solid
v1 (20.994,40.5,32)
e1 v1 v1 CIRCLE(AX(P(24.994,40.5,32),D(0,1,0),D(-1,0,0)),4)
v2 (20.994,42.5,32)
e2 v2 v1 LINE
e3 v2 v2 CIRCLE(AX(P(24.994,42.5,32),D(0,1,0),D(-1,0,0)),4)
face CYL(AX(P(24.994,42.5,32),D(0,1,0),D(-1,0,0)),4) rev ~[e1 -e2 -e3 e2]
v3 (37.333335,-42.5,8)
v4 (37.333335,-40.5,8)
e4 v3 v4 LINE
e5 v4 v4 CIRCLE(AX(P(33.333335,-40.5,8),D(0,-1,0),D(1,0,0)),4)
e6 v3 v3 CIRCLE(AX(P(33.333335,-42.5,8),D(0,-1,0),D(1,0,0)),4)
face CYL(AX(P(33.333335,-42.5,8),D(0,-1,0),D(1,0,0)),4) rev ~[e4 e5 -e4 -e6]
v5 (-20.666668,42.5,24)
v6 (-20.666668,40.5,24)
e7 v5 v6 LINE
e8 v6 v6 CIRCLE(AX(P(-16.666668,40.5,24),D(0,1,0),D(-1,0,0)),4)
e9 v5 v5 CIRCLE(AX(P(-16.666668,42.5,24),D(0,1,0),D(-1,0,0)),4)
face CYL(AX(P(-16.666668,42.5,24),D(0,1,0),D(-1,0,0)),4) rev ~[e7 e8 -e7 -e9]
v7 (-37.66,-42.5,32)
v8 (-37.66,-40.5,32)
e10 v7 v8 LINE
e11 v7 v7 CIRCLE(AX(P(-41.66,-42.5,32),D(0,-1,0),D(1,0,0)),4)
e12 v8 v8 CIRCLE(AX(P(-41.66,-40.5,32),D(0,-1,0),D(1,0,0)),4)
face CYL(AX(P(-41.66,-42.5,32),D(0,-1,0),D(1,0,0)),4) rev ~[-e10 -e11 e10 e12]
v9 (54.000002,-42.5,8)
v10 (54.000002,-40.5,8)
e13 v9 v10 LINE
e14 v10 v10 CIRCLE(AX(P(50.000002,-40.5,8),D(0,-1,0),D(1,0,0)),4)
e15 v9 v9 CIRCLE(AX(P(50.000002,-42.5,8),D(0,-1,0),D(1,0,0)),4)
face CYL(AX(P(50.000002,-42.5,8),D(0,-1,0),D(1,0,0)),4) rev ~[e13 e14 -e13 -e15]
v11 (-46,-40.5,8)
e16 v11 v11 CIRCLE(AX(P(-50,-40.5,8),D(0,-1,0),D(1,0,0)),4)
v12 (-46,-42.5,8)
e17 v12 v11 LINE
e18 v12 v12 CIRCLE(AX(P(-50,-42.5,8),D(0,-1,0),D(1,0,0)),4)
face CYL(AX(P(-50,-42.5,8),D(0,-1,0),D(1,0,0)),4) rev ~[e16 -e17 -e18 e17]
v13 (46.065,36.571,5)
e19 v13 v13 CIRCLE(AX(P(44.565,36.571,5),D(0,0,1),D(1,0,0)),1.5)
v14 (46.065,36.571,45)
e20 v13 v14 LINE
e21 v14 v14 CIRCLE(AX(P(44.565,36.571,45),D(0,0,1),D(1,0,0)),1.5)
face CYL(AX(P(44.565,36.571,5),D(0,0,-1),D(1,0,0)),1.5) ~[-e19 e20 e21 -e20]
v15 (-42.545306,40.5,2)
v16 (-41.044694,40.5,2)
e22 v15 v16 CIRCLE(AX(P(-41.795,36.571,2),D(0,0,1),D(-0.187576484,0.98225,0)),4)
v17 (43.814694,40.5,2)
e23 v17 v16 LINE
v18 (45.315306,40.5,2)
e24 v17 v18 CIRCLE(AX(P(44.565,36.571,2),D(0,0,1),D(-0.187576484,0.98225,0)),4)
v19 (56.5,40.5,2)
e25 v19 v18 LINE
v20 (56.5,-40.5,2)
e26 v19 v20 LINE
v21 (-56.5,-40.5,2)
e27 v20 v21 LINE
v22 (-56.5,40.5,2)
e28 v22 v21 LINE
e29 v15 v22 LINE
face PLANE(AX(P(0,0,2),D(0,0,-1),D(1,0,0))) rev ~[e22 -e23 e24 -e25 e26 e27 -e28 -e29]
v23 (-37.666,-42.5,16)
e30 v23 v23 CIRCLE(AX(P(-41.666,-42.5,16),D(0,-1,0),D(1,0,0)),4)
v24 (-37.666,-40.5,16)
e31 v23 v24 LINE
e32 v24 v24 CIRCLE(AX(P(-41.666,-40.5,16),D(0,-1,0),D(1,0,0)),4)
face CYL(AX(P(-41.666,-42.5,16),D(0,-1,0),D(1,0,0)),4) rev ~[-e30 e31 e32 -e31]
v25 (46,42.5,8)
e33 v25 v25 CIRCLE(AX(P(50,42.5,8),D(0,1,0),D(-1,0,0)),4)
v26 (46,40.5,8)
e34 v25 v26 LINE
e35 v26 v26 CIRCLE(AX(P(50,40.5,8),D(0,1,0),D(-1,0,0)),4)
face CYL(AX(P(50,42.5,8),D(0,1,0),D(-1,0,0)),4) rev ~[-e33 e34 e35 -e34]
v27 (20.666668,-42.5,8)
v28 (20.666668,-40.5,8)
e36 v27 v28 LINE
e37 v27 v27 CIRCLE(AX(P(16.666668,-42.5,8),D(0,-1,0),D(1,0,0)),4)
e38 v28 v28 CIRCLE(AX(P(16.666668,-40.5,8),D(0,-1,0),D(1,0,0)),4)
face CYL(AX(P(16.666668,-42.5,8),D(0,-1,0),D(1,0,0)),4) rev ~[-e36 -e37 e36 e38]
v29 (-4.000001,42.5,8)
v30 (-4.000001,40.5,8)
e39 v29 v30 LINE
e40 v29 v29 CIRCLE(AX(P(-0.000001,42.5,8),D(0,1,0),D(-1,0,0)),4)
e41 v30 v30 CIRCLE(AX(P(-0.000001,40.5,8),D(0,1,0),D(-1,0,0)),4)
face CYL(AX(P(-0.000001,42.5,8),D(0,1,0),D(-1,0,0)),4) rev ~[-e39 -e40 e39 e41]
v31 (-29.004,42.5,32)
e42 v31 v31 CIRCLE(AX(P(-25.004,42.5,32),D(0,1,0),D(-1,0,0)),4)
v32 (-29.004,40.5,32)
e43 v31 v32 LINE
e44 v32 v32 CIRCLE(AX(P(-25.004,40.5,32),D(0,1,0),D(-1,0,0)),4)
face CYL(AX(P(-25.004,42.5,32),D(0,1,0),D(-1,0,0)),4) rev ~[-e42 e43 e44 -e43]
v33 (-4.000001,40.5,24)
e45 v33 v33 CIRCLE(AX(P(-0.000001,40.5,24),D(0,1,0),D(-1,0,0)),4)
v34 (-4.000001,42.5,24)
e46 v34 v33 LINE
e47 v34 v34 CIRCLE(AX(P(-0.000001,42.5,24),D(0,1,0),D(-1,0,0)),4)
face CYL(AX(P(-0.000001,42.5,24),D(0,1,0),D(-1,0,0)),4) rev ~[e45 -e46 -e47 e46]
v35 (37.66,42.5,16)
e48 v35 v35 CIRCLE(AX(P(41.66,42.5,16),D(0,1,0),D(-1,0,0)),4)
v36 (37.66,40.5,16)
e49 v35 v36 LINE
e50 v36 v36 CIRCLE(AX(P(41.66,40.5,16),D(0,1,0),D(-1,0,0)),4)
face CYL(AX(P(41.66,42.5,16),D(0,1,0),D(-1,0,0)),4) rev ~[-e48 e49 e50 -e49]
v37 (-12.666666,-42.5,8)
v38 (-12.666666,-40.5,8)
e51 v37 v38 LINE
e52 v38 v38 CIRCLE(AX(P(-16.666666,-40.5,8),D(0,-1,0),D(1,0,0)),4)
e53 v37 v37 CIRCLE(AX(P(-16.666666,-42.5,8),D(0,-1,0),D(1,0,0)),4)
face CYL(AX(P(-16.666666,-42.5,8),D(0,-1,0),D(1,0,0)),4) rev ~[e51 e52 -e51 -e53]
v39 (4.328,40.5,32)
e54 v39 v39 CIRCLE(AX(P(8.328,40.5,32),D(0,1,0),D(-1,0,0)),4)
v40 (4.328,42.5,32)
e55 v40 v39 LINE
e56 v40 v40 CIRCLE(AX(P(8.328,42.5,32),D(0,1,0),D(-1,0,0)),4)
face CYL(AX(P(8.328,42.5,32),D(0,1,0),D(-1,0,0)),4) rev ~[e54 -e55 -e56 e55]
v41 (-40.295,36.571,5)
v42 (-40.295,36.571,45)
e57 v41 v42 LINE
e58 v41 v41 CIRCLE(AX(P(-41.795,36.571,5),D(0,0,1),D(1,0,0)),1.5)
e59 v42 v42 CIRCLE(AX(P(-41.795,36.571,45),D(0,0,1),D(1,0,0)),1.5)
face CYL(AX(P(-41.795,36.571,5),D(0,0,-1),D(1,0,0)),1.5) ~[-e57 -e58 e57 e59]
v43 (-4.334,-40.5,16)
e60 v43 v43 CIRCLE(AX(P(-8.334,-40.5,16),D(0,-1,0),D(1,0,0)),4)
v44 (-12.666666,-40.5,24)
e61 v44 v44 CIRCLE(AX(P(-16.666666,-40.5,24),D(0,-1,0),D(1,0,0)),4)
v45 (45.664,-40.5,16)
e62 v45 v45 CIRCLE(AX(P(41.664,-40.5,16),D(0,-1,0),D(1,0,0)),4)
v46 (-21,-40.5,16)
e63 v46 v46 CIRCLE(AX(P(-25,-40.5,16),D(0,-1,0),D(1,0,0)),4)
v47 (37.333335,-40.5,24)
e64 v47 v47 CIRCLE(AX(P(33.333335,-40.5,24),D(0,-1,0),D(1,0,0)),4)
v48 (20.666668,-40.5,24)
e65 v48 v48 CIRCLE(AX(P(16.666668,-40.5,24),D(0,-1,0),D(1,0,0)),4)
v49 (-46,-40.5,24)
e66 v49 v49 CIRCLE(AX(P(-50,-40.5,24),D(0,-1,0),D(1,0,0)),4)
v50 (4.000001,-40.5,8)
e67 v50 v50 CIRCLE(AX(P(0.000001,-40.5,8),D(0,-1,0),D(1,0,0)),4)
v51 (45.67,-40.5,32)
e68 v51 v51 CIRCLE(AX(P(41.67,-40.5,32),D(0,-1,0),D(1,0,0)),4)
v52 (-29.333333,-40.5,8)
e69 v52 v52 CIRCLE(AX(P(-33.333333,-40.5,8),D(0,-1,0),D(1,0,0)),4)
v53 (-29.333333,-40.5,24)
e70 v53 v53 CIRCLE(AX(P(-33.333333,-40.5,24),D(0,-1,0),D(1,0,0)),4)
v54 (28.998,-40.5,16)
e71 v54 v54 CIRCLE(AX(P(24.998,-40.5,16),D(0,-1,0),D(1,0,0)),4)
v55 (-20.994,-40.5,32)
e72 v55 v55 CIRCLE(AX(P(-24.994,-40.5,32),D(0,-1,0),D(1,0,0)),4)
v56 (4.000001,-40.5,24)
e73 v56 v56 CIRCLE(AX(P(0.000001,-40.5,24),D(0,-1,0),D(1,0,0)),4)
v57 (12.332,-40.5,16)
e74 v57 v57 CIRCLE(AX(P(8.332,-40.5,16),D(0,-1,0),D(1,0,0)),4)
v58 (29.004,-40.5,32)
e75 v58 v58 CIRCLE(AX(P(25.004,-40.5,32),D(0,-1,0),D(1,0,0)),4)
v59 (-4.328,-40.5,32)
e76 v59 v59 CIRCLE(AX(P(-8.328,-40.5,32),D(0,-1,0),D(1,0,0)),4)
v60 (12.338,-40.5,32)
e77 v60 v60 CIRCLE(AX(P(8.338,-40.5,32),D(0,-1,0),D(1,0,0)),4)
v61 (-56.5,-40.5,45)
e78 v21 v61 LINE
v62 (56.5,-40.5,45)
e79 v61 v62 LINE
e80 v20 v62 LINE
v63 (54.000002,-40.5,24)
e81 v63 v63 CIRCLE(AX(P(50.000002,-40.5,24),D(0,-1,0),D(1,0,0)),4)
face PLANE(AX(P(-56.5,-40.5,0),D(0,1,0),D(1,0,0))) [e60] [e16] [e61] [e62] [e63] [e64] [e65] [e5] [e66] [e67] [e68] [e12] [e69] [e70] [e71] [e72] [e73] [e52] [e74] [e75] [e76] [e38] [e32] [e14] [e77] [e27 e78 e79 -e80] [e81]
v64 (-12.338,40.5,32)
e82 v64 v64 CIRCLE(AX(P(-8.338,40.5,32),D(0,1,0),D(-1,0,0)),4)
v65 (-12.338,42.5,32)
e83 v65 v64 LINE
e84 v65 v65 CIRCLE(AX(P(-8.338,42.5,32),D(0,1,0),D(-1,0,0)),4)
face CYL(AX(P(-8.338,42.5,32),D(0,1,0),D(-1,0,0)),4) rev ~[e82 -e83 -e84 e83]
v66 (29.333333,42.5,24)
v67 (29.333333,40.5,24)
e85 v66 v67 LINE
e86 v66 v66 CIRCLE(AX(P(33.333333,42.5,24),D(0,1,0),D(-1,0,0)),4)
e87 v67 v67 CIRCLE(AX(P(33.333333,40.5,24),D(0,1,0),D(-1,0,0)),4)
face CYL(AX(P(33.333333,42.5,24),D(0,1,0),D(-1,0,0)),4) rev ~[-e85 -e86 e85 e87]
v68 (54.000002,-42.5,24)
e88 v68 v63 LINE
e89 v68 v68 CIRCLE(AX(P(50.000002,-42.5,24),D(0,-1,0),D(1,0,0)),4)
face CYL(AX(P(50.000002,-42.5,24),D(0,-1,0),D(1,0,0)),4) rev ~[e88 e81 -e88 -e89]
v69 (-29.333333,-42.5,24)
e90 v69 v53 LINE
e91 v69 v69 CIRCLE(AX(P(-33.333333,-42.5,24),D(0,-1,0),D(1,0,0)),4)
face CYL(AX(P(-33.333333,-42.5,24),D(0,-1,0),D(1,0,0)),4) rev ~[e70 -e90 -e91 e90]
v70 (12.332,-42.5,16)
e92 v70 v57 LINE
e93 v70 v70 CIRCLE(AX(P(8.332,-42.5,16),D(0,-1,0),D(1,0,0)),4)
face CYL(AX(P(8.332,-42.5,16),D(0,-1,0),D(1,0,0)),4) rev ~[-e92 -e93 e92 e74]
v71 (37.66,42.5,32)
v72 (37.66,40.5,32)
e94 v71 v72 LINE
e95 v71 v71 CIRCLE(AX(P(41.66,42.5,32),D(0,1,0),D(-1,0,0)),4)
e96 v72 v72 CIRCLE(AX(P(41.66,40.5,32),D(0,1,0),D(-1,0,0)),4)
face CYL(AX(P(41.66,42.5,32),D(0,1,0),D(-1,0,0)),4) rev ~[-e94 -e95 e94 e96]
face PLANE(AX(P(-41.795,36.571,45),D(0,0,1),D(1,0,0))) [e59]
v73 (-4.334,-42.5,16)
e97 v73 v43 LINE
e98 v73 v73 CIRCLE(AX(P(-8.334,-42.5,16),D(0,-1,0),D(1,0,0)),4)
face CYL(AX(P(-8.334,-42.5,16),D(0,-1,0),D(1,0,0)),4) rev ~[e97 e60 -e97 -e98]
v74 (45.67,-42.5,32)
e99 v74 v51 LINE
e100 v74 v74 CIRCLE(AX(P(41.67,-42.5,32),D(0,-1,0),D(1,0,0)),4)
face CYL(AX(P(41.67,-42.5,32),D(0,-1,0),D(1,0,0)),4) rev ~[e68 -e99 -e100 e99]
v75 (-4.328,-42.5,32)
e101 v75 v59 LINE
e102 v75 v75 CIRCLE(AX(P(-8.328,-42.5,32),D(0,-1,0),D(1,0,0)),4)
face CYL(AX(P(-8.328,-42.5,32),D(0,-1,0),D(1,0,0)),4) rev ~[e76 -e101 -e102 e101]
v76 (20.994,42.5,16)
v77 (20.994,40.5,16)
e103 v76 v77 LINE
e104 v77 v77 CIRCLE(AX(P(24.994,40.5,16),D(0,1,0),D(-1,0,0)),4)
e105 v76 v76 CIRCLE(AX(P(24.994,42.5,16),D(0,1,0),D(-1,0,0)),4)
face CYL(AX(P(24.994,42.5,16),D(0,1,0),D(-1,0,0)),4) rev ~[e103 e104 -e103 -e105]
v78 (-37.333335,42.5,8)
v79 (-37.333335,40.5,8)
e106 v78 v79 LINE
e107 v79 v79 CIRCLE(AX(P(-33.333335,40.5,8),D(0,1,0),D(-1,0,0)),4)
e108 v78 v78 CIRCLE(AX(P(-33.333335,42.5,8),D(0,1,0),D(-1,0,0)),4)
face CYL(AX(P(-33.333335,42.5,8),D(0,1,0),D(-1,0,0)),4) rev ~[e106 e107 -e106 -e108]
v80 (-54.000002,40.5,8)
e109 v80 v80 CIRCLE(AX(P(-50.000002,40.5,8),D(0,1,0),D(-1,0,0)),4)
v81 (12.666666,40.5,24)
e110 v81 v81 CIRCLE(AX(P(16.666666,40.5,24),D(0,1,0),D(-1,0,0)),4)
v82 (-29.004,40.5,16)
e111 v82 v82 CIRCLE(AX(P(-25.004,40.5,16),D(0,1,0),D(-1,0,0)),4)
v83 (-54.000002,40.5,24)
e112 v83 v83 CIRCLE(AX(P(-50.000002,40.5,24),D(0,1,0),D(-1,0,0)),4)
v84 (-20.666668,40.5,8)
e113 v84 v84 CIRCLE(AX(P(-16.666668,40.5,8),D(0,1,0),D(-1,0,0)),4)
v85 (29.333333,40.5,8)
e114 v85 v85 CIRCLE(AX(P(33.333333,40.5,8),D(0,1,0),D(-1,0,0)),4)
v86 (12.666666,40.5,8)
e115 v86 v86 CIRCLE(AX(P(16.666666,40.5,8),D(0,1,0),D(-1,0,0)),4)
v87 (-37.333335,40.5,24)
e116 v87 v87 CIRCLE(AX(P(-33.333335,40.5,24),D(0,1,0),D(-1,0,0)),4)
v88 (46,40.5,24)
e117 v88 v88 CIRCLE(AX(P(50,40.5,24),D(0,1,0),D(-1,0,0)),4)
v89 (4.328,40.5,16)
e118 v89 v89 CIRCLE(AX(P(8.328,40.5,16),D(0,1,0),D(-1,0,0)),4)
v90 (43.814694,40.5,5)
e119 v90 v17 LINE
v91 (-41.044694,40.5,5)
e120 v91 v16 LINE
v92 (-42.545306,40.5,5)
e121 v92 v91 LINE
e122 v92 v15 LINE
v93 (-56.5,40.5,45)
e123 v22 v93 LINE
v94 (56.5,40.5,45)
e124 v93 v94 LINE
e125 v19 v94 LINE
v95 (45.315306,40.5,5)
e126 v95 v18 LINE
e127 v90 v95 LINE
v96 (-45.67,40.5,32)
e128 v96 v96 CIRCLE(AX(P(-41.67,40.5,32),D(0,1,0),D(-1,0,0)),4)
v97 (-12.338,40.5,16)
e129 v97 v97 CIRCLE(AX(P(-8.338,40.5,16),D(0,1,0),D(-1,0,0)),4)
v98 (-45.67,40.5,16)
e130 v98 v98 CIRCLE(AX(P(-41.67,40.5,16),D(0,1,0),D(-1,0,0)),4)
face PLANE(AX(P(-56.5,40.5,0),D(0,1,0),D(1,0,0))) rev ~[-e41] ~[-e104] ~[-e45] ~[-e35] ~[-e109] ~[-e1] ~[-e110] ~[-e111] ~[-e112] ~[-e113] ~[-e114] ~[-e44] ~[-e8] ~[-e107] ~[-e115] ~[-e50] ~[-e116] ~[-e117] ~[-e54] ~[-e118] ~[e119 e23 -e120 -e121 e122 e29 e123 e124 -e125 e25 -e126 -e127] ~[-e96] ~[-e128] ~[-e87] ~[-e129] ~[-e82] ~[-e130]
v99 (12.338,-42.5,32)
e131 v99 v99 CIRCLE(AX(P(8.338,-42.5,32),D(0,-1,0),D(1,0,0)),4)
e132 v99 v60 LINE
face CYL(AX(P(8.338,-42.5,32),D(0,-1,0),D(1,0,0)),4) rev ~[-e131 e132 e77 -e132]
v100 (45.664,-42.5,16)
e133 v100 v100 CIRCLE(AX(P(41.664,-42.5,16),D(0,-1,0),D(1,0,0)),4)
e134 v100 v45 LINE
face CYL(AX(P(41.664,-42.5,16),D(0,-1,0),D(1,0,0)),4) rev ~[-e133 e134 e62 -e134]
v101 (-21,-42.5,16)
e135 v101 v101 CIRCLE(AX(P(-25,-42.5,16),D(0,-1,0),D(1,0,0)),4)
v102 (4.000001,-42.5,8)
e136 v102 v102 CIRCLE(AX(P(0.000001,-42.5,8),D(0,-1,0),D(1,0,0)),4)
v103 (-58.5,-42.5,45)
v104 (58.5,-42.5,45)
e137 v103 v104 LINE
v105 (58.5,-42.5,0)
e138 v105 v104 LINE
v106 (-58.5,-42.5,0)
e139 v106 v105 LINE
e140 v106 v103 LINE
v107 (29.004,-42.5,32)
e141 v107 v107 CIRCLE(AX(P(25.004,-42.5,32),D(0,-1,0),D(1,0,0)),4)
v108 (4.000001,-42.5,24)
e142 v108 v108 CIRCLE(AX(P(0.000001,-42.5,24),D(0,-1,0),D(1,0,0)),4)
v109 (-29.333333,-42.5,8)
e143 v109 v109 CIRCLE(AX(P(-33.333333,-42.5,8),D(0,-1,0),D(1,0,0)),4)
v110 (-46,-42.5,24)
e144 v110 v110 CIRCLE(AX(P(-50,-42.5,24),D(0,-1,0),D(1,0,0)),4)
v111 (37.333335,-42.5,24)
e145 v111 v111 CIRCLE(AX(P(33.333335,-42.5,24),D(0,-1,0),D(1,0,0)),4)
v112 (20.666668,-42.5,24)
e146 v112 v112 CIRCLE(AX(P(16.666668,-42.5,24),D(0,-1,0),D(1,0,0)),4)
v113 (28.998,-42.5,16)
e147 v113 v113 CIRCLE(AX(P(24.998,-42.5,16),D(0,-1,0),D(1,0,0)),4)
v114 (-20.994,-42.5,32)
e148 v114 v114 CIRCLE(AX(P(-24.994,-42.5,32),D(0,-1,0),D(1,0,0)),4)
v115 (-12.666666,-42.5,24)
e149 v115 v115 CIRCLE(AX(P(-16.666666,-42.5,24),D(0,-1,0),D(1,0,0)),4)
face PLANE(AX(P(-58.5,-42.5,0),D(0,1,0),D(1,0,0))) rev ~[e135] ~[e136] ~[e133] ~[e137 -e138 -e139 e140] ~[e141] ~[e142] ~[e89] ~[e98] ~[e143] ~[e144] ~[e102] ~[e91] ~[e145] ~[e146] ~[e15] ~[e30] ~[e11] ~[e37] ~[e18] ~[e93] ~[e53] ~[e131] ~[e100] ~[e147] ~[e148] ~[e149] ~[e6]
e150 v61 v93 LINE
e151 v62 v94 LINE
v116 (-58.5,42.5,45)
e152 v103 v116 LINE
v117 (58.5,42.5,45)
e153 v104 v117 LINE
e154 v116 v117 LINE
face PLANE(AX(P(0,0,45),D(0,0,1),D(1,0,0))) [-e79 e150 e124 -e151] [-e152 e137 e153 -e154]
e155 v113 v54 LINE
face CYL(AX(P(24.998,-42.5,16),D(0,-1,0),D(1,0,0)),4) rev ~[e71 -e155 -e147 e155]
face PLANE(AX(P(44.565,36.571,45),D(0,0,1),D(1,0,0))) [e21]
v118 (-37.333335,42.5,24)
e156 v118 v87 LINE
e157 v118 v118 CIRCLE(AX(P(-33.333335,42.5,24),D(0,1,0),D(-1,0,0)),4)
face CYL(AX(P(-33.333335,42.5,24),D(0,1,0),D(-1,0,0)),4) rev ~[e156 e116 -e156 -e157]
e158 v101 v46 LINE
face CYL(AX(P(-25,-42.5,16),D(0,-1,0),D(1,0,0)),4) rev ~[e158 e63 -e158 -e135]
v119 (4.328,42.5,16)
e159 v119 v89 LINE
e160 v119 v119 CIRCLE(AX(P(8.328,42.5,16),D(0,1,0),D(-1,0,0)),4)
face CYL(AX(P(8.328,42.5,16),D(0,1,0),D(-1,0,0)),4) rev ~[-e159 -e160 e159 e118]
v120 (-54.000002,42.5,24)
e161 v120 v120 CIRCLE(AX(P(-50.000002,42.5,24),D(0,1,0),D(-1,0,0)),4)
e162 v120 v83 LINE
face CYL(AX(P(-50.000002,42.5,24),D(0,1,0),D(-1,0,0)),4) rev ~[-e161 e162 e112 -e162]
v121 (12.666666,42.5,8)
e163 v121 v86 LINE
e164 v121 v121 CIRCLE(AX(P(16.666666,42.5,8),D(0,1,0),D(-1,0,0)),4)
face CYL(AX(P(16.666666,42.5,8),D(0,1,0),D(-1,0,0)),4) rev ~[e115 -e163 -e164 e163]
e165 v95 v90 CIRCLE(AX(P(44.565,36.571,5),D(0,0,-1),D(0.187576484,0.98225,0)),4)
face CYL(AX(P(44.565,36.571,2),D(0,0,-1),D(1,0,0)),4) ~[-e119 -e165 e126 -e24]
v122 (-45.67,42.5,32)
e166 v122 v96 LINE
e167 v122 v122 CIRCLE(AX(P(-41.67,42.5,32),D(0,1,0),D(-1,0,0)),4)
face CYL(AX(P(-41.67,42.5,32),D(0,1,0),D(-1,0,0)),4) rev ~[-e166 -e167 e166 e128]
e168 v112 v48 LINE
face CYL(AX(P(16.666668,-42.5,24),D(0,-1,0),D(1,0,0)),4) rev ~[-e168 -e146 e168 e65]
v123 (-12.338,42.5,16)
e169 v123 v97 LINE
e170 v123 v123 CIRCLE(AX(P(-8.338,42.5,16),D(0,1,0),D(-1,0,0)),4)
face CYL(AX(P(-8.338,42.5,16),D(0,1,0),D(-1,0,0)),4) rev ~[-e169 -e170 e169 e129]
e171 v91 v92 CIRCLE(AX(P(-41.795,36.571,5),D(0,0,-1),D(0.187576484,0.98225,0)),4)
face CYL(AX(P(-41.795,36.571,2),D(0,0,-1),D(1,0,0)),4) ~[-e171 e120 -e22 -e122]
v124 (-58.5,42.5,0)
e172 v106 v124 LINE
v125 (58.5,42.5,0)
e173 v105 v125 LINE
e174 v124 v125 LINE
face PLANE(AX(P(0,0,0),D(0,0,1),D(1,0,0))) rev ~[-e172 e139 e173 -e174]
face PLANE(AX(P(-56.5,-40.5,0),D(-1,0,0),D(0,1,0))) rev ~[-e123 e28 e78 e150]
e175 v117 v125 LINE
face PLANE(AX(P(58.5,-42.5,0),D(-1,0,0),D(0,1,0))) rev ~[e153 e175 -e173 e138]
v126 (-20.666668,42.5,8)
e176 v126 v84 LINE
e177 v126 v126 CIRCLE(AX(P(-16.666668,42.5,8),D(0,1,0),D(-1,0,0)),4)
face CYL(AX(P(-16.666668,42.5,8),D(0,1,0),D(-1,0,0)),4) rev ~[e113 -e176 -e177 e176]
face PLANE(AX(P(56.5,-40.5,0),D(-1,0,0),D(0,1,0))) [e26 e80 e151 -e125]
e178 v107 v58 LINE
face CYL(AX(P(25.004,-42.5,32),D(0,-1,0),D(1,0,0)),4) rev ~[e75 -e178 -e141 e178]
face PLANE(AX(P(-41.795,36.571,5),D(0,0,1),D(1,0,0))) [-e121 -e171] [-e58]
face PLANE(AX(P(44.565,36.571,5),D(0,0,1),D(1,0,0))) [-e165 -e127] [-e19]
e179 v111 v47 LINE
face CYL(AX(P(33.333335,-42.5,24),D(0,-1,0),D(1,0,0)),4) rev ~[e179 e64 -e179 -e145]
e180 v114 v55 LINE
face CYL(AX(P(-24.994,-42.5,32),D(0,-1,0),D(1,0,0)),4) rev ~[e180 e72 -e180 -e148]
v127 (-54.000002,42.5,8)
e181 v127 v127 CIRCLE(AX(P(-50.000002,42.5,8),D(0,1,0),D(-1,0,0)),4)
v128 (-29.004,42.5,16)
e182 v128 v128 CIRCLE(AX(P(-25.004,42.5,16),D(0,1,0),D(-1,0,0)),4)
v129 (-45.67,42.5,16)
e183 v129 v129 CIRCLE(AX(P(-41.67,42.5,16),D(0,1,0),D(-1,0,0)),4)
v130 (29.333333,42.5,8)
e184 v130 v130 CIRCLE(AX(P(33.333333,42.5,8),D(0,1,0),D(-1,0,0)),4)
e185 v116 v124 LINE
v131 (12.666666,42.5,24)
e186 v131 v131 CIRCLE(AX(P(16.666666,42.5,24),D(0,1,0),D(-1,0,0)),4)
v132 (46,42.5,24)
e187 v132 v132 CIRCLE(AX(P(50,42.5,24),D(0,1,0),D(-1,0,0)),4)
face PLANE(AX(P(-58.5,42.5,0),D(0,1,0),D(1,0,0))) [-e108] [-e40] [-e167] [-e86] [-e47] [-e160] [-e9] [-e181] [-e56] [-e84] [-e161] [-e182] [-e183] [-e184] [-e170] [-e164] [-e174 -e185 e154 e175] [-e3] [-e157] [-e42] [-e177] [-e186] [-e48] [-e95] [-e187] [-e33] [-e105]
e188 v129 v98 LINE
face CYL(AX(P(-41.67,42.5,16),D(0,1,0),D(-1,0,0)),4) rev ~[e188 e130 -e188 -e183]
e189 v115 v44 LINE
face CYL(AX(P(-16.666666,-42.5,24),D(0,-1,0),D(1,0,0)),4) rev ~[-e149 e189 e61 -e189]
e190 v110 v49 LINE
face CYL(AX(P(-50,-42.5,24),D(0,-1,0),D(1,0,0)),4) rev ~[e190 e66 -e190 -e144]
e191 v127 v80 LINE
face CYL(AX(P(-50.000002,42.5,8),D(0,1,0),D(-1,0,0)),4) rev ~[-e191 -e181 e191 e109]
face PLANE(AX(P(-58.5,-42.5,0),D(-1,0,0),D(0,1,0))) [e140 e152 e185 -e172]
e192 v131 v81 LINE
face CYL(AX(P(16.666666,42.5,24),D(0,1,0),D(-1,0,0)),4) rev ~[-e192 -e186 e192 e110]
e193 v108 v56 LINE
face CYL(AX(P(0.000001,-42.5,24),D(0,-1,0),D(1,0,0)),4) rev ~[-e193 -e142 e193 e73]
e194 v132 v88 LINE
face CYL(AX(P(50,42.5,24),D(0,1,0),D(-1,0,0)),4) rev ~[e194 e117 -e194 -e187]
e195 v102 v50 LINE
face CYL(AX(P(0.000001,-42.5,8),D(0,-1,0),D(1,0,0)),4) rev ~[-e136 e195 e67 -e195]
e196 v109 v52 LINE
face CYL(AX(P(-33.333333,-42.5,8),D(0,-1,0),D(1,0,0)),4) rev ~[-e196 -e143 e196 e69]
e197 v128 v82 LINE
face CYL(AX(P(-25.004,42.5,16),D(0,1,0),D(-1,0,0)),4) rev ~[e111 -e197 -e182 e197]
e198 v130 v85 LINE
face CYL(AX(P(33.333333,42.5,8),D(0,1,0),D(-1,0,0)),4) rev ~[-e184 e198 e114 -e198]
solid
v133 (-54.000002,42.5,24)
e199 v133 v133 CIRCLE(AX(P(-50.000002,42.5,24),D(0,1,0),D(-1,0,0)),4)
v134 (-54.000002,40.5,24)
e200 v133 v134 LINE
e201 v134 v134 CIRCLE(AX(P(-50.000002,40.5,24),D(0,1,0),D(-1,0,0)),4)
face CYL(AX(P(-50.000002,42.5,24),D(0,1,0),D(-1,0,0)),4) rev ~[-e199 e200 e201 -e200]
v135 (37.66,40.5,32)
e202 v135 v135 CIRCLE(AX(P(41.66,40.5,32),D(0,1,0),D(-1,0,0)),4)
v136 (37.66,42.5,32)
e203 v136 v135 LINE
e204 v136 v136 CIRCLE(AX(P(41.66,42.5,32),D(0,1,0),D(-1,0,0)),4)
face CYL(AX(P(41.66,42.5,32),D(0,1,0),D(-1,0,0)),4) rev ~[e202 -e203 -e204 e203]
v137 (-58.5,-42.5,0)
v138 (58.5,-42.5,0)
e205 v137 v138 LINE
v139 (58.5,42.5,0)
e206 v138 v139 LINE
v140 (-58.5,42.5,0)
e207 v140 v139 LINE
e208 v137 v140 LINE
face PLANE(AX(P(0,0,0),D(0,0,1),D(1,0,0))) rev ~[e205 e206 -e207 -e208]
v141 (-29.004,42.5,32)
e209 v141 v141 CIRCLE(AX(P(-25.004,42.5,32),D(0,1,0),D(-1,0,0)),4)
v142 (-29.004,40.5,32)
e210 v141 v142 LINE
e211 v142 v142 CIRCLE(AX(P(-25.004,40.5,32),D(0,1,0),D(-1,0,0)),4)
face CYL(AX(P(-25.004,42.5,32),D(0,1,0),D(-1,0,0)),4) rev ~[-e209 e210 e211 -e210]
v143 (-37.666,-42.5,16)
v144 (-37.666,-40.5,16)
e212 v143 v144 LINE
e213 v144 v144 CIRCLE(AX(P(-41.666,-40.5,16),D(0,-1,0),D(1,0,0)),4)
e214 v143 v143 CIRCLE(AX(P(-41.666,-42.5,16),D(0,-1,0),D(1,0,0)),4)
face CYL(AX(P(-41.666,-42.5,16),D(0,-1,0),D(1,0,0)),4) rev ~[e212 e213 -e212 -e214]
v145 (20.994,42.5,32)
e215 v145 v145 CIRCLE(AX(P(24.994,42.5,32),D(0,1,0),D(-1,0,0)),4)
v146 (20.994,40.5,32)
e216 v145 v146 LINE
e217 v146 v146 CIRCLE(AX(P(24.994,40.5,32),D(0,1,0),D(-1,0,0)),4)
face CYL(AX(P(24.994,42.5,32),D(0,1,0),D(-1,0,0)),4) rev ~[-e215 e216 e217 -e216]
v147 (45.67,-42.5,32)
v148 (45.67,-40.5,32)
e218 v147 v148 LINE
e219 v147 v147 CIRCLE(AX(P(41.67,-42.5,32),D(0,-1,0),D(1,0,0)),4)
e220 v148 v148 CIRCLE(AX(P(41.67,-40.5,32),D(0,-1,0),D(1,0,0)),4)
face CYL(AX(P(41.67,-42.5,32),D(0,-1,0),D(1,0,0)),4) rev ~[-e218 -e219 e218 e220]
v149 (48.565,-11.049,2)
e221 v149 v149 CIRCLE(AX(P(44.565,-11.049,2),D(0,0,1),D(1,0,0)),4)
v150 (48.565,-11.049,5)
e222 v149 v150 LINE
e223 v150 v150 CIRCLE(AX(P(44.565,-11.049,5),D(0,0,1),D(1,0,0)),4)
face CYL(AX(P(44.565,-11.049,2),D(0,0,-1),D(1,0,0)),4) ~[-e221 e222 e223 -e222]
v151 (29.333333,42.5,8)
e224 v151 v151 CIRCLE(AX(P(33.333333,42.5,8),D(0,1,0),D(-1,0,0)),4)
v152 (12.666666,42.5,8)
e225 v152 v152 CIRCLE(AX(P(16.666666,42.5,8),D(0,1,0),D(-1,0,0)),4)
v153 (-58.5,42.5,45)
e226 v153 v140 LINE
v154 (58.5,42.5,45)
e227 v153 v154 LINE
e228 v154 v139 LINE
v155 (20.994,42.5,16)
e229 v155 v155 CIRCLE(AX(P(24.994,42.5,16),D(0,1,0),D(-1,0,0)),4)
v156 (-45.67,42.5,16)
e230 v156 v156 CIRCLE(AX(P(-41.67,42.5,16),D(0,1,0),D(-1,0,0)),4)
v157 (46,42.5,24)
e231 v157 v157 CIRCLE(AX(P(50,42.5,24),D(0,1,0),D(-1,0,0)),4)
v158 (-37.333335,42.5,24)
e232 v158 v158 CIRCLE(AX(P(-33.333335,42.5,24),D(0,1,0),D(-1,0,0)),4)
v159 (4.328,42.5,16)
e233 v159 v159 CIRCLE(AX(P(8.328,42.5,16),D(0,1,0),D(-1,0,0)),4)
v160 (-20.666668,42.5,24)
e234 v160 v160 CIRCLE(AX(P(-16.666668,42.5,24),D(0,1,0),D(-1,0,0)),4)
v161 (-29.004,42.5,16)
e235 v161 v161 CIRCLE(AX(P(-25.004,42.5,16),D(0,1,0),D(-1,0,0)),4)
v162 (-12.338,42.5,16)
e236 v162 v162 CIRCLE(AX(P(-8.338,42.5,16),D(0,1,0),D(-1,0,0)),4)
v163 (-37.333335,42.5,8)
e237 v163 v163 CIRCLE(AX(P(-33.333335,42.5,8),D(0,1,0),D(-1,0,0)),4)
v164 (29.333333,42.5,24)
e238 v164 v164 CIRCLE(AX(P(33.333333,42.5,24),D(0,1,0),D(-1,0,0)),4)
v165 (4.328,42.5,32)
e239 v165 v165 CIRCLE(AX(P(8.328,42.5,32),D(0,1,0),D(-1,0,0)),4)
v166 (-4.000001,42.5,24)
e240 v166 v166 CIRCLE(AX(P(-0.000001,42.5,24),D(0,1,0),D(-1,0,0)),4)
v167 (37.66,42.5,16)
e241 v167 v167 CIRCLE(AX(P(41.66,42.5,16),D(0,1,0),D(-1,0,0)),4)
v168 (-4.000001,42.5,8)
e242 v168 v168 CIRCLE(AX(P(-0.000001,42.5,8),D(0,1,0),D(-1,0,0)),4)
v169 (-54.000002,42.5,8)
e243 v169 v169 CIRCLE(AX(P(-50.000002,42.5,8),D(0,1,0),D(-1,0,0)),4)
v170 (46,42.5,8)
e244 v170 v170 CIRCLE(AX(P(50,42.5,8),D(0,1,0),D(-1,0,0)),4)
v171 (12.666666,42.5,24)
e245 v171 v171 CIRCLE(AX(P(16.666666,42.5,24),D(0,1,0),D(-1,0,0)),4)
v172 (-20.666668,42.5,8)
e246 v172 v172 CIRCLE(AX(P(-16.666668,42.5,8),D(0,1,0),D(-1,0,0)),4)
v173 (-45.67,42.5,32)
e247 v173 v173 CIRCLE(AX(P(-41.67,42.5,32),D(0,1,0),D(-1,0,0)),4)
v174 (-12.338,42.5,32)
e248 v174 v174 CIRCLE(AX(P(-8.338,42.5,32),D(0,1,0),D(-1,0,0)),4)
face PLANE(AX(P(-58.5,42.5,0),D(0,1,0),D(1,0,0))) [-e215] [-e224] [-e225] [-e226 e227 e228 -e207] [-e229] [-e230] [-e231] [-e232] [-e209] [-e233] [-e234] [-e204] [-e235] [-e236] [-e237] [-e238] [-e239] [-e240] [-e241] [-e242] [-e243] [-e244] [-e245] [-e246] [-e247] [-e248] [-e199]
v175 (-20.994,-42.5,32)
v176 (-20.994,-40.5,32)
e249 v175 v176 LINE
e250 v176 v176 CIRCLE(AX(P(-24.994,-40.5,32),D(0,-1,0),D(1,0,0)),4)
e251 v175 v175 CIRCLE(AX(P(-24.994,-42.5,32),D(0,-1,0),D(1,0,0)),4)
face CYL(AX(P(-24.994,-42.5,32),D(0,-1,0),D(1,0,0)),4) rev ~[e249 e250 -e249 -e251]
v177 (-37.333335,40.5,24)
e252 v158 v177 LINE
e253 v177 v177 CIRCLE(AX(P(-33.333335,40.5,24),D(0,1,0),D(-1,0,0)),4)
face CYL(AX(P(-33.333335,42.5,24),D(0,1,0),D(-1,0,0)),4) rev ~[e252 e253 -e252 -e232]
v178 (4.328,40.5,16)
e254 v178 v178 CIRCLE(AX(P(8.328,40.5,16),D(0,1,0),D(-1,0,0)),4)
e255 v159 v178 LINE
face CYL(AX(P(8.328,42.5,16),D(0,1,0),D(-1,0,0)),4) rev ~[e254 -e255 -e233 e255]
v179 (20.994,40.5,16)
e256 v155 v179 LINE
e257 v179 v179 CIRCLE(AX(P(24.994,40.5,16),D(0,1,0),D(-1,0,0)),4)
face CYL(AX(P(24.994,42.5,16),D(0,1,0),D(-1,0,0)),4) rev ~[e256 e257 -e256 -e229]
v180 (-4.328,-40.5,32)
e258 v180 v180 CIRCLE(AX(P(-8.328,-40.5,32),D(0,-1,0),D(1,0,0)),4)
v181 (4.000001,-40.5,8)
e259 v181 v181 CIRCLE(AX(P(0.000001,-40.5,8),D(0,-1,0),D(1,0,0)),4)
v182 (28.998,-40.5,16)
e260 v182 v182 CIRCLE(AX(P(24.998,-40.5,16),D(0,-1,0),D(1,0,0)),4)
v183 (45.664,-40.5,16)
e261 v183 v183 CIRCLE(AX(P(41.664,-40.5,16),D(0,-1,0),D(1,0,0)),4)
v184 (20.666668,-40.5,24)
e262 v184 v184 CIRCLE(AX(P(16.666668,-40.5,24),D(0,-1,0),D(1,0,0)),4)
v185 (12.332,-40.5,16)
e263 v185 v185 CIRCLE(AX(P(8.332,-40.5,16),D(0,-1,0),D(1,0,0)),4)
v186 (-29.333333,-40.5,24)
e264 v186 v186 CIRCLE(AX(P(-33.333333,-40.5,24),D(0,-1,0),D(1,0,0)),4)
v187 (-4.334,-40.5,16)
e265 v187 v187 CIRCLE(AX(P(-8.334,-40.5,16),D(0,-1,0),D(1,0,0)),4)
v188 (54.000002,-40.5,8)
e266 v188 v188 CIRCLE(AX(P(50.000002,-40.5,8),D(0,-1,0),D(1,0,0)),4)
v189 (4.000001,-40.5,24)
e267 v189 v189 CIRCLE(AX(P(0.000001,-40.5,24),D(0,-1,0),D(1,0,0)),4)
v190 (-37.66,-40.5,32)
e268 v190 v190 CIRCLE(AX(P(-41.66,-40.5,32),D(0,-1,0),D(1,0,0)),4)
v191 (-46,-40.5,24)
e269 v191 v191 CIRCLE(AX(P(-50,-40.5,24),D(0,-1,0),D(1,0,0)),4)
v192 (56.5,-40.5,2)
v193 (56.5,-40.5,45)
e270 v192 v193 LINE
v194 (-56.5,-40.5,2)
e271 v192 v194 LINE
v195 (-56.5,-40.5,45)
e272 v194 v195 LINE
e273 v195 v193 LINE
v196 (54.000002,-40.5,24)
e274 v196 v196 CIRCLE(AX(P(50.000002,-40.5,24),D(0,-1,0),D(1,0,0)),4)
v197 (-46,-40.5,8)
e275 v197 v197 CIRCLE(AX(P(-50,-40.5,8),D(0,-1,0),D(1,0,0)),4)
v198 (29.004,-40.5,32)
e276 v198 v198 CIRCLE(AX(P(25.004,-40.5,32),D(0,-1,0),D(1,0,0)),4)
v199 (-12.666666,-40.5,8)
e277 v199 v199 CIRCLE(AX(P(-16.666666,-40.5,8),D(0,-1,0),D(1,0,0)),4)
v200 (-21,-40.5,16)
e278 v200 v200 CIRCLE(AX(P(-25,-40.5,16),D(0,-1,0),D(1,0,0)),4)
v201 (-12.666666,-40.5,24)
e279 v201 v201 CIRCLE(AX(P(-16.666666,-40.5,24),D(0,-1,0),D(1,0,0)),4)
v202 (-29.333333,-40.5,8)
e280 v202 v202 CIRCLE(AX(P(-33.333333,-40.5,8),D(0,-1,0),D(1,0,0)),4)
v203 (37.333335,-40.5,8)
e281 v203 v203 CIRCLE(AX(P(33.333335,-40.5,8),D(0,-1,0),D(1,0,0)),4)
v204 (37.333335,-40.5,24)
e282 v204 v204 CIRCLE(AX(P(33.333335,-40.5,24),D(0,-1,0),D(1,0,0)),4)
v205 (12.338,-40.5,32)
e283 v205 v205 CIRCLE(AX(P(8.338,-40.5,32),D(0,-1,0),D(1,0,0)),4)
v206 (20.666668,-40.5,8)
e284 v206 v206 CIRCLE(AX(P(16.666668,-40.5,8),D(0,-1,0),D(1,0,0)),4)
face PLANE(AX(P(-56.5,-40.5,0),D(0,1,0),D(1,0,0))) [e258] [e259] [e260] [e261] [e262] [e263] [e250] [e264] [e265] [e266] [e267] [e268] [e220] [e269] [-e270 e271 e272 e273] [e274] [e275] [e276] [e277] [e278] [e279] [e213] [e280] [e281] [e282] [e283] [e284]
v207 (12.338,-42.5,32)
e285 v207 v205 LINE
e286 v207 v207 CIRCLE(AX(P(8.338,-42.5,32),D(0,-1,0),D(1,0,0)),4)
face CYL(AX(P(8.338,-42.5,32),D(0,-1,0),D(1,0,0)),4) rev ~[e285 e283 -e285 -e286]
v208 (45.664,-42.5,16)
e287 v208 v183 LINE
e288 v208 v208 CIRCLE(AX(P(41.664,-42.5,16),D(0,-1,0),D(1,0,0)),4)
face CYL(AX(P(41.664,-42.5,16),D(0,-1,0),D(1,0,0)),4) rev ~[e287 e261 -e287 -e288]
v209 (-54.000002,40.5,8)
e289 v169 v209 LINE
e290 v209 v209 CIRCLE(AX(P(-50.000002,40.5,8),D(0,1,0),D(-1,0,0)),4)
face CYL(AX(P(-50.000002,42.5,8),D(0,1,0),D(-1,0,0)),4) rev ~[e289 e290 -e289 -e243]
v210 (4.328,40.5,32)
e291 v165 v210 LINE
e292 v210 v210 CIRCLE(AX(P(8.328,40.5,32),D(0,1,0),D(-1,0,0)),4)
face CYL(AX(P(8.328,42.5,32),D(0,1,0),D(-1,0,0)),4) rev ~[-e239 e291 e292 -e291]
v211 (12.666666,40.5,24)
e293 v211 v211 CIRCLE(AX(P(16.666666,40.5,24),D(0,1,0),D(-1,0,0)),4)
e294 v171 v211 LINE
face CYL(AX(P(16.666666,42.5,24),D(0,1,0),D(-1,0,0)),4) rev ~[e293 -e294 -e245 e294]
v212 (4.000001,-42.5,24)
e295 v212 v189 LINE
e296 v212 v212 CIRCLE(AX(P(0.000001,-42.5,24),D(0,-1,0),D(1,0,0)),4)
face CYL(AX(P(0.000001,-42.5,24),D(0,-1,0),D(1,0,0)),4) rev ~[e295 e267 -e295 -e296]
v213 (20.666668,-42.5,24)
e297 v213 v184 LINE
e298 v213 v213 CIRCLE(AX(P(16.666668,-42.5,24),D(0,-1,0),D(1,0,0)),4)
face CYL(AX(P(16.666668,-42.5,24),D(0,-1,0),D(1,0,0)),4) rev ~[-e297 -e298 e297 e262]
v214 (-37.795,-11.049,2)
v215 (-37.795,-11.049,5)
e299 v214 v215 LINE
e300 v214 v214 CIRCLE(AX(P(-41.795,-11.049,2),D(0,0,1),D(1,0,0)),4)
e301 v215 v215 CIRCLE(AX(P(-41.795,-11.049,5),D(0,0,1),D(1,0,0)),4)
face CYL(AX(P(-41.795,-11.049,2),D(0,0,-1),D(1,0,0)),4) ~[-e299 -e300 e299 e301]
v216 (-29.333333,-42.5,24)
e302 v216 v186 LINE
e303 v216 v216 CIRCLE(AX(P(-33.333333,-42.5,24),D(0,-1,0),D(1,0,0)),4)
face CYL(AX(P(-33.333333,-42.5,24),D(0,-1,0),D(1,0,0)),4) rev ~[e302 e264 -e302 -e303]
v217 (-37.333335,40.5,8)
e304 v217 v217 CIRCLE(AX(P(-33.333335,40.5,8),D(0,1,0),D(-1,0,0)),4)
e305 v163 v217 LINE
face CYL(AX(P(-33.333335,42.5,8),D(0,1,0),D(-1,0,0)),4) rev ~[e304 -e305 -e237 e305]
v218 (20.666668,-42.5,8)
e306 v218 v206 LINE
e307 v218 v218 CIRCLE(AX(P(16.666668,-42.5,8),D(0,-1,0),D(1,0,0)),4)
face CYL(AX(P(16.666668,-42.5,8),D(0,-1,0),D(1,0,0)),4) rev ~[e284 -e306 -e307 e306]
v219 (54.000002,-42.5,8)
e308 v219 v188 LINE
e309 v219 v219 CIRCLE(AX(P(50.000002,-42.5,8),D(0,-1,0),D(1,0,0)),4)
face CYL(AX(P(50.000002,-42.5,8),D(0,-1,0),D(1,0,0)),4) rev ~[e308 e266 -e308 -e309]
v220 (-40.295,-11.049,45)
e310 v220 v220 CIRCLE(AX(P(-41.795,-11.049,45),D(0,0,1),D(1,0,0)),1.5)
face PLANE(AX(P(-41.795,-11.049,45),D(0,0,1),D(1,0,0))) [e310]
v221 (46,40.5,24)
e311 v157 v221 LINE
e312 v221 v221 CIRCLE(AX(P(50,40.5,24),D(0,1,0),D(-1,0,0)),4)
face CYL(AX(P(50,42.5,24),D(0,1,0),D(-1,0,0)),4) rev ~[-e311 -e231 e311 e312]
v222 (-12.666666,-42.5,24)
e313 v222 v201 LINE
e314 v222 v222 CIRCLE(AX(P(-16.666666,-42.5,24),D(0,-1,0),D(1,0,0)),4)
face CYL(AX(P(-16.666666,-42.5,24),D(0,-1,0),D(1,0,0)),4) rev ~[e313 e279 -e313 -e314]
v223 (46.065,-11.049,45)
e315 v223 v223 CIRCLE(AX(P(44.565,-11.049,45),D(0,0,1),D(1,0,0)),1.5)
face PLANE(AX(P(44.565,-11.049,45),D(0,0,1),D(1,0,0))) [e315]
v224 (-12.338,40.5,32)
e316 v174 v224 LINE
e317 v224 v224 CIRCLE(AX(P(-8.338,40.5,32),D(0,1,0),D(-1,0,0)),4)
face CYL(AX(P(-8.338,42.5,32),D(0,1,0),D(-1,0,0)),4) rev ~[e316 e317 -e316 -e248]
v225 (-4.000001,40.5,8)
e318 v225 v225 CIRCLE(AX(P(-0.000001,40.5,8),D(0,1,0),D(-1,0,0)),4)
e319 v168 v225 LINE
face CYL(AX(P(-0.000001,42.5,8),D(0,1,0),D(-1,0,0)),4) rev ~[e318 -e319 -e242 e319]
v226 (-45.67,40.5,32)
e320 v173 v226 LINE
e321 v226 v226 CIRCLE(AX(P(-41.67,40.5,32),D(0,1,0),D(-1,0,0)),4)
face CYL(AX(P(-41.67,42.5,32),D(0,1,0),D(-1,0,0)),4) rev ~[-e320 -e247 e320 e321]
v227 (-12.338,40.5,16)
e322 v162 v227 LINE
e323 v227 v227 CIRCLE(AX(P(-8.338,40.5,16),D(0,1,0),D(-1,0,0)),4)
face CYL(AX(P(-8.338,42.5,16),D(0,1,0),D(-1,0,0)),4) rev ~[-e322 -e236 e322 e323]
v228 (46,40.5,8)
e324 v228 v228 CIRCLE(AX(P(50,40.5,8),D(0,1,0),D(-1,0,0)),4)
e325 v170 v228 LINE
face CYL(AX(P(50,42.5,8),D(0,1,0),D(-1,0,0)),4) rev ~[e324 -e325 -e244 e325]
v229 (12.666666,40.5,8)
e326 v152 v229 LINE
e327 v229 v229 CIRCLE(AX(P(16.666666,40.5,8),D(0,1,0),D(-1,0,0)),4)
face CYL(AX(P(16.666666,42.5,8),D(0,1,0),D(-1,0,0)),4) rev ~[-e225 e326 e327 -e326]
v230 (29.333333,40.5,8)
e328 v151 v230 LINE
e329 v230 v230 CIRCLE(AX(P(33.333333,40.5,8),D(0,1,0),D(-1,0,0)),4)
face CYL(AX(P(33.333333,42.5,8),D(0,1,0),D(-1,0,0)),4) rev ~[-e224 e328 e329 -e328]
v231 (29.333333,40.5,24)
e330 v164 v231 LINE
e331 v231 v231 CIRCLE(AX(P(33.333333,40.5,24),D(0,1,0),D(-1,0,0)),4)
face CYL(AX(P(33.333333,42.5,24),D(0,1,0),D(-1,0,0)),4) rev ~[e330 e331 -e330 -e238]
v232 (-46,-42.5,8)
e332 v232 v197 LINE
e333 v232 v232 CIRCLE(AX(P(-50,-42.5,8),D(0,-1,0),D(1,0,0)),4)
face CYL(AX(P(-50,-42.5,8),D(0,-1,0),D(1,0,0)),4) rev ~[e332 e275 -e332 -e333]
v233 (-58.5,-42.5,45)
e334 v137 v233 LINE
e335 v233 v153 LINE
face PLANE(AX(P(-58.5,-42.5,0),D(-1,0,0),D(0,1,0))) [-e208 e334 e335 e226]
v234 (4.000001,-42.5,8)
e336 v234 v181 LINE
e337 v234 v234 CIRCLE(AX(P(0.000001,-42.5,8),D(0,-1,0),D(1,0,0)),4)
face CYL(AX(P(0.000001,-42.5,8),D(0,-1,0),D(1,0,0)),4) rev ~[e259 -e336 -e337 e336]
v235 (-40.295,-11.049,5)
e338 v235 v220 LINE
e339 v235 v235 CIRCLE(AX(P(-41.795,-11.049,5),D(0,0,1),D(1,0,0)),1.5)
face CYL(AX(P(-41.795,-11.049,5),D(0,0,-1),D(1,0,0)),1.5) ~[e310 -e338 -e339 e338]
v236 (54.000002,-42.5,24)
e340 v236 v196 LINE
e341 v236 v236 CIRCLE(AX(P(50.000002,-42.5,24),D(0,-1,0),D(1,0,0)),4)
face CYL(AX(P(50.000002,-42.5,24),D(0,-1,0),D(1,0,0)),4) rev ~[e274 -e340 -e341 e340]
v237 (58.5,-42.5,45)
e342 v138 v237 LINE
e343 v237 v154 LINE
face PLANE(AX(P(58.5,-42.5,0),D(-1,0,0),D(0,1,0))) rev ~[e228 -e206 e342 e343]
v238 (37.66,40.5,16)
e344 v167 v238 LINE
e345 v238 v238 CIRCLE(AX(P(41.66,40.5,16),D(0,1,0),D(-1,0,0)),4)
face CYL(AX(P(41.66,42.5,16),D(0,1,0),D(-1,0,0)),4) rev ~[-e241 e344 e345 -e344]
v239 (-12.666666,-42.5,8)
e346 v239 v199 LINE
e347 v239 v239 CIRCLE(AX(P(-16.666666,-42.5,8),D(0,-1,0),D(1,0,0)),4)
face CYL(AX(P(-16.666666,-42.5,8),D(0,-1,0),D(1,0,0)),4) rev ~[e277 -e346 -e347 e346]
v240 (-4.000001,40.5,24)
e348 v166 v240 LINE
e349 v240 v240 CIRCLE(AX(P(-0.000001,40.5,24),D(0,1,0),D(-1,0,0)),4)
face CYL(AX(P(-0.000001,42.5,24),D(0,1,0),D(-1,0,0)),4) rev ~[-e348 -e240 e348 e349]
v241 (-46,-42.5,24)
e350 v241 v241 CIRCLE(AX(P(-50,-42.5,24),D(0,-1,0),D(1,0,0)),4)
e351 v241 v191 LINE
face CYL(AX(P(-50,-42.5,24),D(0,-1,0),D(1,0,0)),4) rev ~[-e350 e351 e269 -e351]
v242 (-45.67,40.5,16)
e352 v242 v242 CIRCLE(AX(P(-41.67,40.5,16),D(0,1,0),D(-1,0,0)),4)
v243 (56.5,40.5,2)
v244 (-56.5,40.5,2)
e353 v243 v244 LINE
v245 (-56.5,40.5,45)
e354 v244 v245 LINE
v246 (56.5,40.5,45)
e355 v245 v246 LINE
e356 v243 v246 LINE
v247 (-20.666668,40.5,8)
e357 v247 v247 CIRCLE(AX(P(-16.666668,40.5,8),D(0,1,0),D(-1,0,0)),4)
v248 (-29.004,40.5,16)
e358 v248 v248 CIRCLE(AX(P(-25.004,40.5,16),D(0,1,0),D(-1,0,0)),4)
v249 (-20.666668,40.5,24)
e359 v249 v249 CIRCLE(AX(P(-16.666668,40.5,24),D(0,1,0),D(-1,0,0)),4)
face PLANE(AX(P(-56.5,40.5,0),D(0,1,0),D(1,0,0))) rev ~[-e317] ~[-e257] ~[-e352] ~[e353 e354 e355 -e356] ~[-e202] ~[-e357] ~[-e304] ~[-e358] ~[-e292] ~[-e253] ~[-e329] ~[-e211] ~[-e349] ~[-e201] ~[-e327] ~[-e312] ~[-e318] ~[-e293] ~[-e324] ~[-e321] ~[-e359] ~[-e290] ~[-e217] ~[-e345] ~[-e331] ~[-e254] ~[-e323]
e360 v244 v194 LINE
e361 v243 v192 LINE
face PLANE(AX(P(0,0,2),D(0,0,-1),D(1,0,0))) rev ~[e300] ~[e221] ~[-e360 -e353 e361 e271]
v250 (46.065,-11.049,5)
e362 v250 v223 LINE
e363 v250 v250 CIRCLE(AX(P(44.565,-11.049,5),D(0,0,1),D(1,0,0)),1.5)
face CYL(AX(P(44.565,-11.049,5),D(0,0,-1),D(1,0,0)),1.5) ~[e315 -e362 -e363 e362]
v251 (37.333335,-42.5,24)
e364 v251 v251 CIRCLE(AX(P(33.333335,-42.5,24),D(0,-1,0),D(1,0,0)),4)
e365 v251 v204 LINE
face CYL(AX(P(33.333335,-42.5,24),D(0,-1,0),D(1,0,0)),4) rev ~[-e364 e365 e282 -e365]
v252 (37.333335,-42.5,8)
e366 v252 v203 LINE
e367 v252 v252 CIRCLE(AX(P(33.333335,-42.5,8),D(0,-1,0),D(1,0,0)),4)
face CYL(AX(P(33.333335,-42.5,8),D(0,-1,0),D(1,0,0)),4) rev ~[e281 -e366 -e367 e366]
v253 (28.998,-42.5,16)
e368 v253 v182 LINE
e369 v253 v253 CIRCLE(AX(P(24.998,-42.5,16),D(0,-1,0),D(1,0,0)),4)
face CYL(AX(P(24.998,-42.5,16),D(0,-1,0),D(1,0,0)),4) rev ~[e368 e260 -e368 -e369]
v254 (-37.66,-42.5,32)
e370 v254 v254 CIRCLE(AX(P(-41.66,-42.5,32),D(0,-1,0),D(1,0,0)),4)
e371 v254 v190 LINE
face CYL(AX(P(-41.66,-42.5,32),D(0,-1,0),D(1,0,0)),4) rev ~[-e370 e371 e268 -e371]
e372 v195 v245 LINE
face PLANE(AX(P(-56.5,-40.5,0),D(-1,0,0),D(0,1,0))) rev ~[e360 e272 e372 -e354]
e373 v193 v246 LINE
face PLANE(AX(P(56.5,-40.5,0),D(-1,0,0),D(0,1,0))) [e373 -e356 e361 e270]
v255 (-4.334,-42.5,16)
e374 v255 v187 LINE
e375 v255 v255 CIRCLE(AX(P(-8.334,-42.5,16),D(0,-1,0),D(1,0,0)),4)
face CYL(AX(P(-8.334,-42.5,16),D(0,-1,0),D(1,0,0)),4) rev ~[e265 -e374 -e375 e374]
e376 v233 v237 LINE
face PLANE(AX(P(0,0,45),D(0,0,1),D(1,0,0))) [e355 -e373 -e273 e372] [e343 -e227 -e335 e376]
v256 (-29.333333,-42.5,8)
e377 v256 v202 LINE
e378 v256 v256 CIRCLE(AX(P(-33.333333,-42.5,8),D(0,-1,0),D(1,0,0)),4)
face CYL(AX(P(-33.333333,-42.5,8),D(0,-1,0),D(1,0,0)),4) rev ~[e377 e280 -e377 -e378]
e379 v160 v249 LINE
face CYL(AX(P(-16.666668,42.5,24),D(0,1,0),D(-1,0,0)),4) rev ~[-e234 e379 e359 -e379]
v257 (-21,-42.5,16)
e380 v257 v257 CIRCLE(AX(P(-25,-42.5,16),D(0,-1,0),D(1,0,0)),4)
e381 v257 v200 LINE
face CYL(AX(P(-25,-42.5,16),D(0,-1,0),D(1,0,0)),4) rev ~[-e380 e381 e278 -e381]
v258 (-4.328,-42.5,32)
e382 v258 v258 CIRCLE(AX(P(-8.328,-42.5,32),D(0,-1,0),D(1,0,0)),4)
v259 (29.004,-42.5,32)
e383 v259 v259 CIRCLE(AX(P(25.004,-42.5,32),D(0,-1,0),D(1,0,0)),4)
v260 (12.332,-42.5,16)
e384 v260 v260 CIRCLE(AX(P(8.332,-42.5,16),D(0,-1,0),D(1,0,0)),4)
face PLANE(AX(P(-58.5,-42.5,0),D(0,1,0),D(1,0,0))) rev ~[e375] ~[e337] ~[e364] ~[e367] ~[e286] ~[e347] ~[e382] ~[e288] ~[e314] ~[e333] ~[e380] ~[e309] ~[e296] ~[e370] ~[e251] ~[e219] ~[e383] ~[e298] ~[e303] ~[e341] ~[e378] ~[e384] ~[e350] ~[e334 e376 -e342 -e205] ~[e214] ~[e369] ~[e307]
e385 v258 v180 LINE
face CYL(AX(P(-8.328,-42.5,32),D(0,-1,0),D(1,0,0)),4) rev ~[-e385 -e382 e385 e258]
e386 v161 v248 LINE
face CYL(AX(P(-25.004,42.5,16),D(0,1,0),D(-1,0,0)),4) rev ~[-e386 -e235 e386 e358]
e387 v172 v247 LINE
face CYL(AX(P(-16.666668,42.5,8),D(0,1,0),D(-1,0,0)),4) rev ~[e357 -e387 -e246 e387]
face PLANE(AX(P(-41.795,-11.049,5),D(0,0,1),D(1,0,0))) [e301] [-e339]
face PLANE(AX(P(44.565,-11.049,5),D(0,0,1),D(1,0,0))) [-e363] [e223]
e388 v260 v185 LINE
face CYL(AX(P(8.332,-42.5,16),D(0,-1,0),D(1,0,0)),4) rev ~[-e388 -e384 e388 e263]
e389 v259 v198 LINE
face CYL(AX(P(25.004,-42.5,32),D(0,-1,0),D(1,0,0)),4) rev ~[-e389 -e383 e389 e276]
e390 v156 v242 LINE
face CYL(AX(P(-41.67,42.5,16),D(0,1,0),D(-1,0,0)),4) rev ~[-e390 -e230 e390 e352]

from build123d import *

# Parameters (mm, degrees)
SKETCH_W               = 117
SKETCH_H               = 85
SKETCH_W_2             = 113
SKETCH_H_2             = 81
PAD_DEPTH              = 45
SKETCH001_R            = 4
POCKET_DEPTH           = 5
LINEARPATTERN_COUNT    = 7
LINEARPATTERN_PITCH    = 16.666667
SKETCH002_R            = 4
POCKET001_DEPTH        = 5
LINEARPATTERN001_COUNT = 6
LINEARPATTERN001_PITCH = 16.666
SKETCH003_W            = 117
SKETCH003_H            = 85
PAD001_DEPTH           = 2
SKETCH004_R            = 4
POCKET002_DEPTH        = 5
LINEARPATTERN002_COUNT = 7
LINEARPATTERN002_PITCH = 16.666667
SKETCH005_R            = 4
POCKET003_DEPTH        = 5
LINEARPATTERN003_COUNT = 6
LINEARPATTERN003_PITCH = 16.666
SKETCH006_R            = 4
POCKET004_DEPTH        = 5
LINEARPATTERN004_COUNT = 7
LINEARPATTERN004_PITCH = 16.666667
SKETCH007_R            = 4
POCKET005_DEPTH        = 5
LINEARPATTERN005_COUNT = 7
LINEARPATTERN005_PITCH = 16.666667
SKETCH008_R            = 4
POCKET006_DEPTH        = 5
LINEARPATTERN006_COUNT = 6
LINEARPATTERN006_PITCH = 16.666
SKETCH009_R            = 4
POCKET007_DEPTH        = 5
LINEARPATTERN007_COUNT = 6
LINEARPATTERN007_PITCH = 16.666
SKETCH010_R            = 4
PAD002_DEPTH           = 3
LINEARPATTERN008_COUNT = 2
LINEARPATTERN008_PITCH = 86.36
SKETCH013_R            = 1.5
PAD004_DEPTH           = 40
SKETCH015_R            = 1.5
PAD006_DEPTH           = 40
SKETCH011_R            = 4
PAD003_DEPTH           = 3
LINEARPATTERN009_COUNT = 2
LINEARPATTERN009_PITCH = 86.36
SKETCH014_R            = 1.5
PAD005_DEPTH           = 40
SKETCH016_R            = 1.5
PAD007_DEPTH           = 40


with BuildPart() as linearpattern007:
    # Sketch → Pad (new body)
    with BuildSketch(Plane.XY):
        Rectangle(SKETCH_W, SKETCH_H)
        Rectangle(SKETCH_W_2, SKETCH_H_2, mode=Mode.SUBTRACT)
    extrude(amount=PAD_DEPTH)

    # Sketch001 → Pocket (cut)
    with BuildSketch(Plane(origin=(0, 42.5, 0), x_dir=(-1, 0, 0), z_dir=(0, 1, 0))):
        with Locations((-50, 8)):
            Circle(SKETCH001_R)
    pocket = extrude(amount=-POCKET_DEPTH, mode=Mode.SUBTRACT)

    # LinearPattern: Pocket ×7
    with Locations(*[(-i * LINEARPATTERN_PITCH, 0, 0) for i in range(1, LINEARPATTERN_COUNT)]):
        add(pocket, mode=Mode.SUBTRACT)

    # Sketch002 → Pocket001 (cut)
    with BuildSketch(Plane(origin=(0, 42.5, 0), x_dir=(-1, 0, 0), z_dir=(0, 1, 0))):
        with Locations((-41.66, 16)):
            Circle(SKETCH002_R)
    pocket001 = extrude(amount=-POCKET001_DEPTH, mode=Mode.SUBTRACT)

    # LinearPattern001: Pocket001 ×6
    with Locations(*[(-i * LINEARPATTERN001_PITCH, 0, 0) for i in range(1, LINEARPATTERN001_COUNT)]):
        add(pocket001, mode=Mode.SUBTRACT)

    # Sketch003 → Pad001 (new body)
    with BuildSketch(Plane(origin=(0, 0, 0), x_dir=(1, 0, 0), z_dir=(0, 0, -1))):
        Rectangle(SKETCH003_W, SKETCH003_H)
    extrude(amount=-PAD001_DEPTH)

    # Sketch004 → Pocket002 (cut)
    with BuildSketch(Plane.XZ.offset(42.5)):
        with Locations((-50, 8)):
            Circle(SKETCH004_R)
    pocket002 = extrude(amount=-POCKET002_DEPTH, mode=Mode.SUBTRACT)

    # LinearPattern002: Pocket002 ×7
    with Locations(*[(i * LINEARPATTERN002_PITCH, 0, 0) for i in range(1, LINEARPATTERN002_COUNT)]):
        add(pocket002, mode=Mode.SUBTRACT)

    # Sketch005 → Pocket003 (cut)
    with BuildSketch(Plane.XZ.offset(42.5)):
        with Locations((-41.666, 16)):
            Circle(SKETCH005_R)
    pocket003 = extrude(amount=-POCKET003_DEPTH, mode=Mode.SUBTRACT)

    # LinearPattern003: Pocket003 ×6
    with Locations(*[(i * LINEARPATTERN003_PITCH, 0, 0) for i in range(1, LINEARPATTERN003_COUNT)]):
        add(pocket003, mode=Mode.SUBTRACT)

    # Sketch006 → Pocket004 (cut)
    with BuildSketch(Plane.XZ.offset(42.5)):
        with Locations((-50, 24)):
            Circle(SKETCH006_R)
    pocket004 = extrude(amount=-POCKET004_DEPTH, mode=Mode.SUBTRACT)

    # LinearPattern004: Pocket004 ×7
    with Locations(*[(i * LINEARPATTERN004_PITCH, 0, 0) for i in range(1, LINEARPATTERN004_COUNT)]):
        add(pocket004, mode=Mode.SUBTRACT)

    # Sketch007 → Pocket005 (cut)
    with BuildSketch(Plane(origin=(0, 42.5, 0), x_dir=(-1, 0, 0), z_dir=(0, 1, 0))):
        with Locations((-50, 24)):
            Circle(SKETCH007_R)
    pocket005 = extrude(amount=-POCKET005_DEPTH, mode=Mode.SUBTRACT)

    # LinearPattern005: Pocket005 ×7
    with Locations(*[(-i * LINEARPATTERN005_PITCH, 0, 0) for i in range(1, LINEARPATTERN005_COUNT)]):
        add(pocket005, mode=Mode.SUBTRACT)

    # Sketch008 → Pocket006 (cut)
    with BuildSketch(Plane(origin=(0, 42.5, 0), x_dir=(-1, 0, 0), z_dir=(0, 1, 0))):
        with Locations((-41.66, 32)):
            Circle(SKETCH008_R)
    pocket006 = extrude(amount=-POCKET006_DEPTH, mode=Mode.SUBTRACT)

    # LinearPattern006: Pocket006 ×6
    with Locations(*[(-i * LINEARPATTERN006_PITCH, 0, 0) for i in range(1, LINEARPATTERN006_COUNT)]):
        add(pocket006, mode=Mode.SUBTRACT)

    # Sketch009 → Pocket007 (cut)
    with BuildSketch(Plane.XZ.offset(42.5)):
        with Locations((-41.66, 32)):
            Circle(SKETCH009_R)
    pocket007 = extrude(amount=-POCKET007_DEPTH, mode=Mode.SUBTRACT)

    # LinearPattern007: Pocket007 ×6
    with Locations(*[(i * LINEARPATTERN007_PITCH, 0, 0) for i in range(1, LINEARPATTERN007_COUNT)]):
        add(pocket007, mode=Mode.SUBTRACT)


with BuildPart() as pad006:
    # Pad002 base: copy of LinearPattern007
    add(linearpattern007.part)

    # Sketch010 → Pad002 (new body)
    with BuildSketch(Plane.XY.offset(2)):
        with Locations((-41.795, 36.571)):
            Circle(SKETCH010_R)
    pad002 = extrude(amount=PAD002_DEPTH)

    # LinearPattern008: Pad002 ×2
    with Locations(*[(i * LINEARPATTERN008_PITCH, 0, 0) for i in range(1, LINEARPATTERN008_COUNT)]):
        add(pad002)

    # Sketch013 → Pad004 (new body)
    with BuildSketch(Plane.XY.offset(5)):
        with Locations((-41.795, 36.571)):
            Circle(SKETCH013_R)
    extrude(amount=PAD004_DEPTH)

    # Sketch015 → Pad006 (new body)
    with BuildSketch(Plane.XY.offset(5)):
        with Locations((44.565, 36.571)):
            Circle(SKETCH015_R)
    extrude(amount=PAD006_DEPTH)


with BuildPart() as pad007:
    # Pad003 base: copy of LinearPattern007
    add(linearpattern007.part)

    # Sketch011 → Pad003 (new body)
    with BuildSketch(Plane.XY.offset(2)):
        with Locations((-41.795, -11.049)):
            Circle(SKETCH011_R)
    pad003 = extrude(amount=PAD003_DEPTH)

    # LinearPattern009: Pad003 ×2
    with Locations(*[(i * LINEARPATTERN009_PITCH, 0, 0) for i in range(1, LINEARPATTERN009_COUNT)]):
        add(pad003)

    # Sketch014 → Pad005 (new body)
    with BuildSketch(Plane.XY.offset(5)):
        with Locations((-41.795, -11.049)):
            Circle(SKETCH014_R)
    extrude(amount=PAD005_DEPTH)

    # Sketch016 → Pad007 (new body)
    with BuildSketch(Plane.XY.offset(5)):
        with Locations((44.565, -11.049)):
            Circle(SKETCH016_R)
    extrude(amount=PAD007_DEPTH)


solid = Compound([pad006.part, pad007.part])
